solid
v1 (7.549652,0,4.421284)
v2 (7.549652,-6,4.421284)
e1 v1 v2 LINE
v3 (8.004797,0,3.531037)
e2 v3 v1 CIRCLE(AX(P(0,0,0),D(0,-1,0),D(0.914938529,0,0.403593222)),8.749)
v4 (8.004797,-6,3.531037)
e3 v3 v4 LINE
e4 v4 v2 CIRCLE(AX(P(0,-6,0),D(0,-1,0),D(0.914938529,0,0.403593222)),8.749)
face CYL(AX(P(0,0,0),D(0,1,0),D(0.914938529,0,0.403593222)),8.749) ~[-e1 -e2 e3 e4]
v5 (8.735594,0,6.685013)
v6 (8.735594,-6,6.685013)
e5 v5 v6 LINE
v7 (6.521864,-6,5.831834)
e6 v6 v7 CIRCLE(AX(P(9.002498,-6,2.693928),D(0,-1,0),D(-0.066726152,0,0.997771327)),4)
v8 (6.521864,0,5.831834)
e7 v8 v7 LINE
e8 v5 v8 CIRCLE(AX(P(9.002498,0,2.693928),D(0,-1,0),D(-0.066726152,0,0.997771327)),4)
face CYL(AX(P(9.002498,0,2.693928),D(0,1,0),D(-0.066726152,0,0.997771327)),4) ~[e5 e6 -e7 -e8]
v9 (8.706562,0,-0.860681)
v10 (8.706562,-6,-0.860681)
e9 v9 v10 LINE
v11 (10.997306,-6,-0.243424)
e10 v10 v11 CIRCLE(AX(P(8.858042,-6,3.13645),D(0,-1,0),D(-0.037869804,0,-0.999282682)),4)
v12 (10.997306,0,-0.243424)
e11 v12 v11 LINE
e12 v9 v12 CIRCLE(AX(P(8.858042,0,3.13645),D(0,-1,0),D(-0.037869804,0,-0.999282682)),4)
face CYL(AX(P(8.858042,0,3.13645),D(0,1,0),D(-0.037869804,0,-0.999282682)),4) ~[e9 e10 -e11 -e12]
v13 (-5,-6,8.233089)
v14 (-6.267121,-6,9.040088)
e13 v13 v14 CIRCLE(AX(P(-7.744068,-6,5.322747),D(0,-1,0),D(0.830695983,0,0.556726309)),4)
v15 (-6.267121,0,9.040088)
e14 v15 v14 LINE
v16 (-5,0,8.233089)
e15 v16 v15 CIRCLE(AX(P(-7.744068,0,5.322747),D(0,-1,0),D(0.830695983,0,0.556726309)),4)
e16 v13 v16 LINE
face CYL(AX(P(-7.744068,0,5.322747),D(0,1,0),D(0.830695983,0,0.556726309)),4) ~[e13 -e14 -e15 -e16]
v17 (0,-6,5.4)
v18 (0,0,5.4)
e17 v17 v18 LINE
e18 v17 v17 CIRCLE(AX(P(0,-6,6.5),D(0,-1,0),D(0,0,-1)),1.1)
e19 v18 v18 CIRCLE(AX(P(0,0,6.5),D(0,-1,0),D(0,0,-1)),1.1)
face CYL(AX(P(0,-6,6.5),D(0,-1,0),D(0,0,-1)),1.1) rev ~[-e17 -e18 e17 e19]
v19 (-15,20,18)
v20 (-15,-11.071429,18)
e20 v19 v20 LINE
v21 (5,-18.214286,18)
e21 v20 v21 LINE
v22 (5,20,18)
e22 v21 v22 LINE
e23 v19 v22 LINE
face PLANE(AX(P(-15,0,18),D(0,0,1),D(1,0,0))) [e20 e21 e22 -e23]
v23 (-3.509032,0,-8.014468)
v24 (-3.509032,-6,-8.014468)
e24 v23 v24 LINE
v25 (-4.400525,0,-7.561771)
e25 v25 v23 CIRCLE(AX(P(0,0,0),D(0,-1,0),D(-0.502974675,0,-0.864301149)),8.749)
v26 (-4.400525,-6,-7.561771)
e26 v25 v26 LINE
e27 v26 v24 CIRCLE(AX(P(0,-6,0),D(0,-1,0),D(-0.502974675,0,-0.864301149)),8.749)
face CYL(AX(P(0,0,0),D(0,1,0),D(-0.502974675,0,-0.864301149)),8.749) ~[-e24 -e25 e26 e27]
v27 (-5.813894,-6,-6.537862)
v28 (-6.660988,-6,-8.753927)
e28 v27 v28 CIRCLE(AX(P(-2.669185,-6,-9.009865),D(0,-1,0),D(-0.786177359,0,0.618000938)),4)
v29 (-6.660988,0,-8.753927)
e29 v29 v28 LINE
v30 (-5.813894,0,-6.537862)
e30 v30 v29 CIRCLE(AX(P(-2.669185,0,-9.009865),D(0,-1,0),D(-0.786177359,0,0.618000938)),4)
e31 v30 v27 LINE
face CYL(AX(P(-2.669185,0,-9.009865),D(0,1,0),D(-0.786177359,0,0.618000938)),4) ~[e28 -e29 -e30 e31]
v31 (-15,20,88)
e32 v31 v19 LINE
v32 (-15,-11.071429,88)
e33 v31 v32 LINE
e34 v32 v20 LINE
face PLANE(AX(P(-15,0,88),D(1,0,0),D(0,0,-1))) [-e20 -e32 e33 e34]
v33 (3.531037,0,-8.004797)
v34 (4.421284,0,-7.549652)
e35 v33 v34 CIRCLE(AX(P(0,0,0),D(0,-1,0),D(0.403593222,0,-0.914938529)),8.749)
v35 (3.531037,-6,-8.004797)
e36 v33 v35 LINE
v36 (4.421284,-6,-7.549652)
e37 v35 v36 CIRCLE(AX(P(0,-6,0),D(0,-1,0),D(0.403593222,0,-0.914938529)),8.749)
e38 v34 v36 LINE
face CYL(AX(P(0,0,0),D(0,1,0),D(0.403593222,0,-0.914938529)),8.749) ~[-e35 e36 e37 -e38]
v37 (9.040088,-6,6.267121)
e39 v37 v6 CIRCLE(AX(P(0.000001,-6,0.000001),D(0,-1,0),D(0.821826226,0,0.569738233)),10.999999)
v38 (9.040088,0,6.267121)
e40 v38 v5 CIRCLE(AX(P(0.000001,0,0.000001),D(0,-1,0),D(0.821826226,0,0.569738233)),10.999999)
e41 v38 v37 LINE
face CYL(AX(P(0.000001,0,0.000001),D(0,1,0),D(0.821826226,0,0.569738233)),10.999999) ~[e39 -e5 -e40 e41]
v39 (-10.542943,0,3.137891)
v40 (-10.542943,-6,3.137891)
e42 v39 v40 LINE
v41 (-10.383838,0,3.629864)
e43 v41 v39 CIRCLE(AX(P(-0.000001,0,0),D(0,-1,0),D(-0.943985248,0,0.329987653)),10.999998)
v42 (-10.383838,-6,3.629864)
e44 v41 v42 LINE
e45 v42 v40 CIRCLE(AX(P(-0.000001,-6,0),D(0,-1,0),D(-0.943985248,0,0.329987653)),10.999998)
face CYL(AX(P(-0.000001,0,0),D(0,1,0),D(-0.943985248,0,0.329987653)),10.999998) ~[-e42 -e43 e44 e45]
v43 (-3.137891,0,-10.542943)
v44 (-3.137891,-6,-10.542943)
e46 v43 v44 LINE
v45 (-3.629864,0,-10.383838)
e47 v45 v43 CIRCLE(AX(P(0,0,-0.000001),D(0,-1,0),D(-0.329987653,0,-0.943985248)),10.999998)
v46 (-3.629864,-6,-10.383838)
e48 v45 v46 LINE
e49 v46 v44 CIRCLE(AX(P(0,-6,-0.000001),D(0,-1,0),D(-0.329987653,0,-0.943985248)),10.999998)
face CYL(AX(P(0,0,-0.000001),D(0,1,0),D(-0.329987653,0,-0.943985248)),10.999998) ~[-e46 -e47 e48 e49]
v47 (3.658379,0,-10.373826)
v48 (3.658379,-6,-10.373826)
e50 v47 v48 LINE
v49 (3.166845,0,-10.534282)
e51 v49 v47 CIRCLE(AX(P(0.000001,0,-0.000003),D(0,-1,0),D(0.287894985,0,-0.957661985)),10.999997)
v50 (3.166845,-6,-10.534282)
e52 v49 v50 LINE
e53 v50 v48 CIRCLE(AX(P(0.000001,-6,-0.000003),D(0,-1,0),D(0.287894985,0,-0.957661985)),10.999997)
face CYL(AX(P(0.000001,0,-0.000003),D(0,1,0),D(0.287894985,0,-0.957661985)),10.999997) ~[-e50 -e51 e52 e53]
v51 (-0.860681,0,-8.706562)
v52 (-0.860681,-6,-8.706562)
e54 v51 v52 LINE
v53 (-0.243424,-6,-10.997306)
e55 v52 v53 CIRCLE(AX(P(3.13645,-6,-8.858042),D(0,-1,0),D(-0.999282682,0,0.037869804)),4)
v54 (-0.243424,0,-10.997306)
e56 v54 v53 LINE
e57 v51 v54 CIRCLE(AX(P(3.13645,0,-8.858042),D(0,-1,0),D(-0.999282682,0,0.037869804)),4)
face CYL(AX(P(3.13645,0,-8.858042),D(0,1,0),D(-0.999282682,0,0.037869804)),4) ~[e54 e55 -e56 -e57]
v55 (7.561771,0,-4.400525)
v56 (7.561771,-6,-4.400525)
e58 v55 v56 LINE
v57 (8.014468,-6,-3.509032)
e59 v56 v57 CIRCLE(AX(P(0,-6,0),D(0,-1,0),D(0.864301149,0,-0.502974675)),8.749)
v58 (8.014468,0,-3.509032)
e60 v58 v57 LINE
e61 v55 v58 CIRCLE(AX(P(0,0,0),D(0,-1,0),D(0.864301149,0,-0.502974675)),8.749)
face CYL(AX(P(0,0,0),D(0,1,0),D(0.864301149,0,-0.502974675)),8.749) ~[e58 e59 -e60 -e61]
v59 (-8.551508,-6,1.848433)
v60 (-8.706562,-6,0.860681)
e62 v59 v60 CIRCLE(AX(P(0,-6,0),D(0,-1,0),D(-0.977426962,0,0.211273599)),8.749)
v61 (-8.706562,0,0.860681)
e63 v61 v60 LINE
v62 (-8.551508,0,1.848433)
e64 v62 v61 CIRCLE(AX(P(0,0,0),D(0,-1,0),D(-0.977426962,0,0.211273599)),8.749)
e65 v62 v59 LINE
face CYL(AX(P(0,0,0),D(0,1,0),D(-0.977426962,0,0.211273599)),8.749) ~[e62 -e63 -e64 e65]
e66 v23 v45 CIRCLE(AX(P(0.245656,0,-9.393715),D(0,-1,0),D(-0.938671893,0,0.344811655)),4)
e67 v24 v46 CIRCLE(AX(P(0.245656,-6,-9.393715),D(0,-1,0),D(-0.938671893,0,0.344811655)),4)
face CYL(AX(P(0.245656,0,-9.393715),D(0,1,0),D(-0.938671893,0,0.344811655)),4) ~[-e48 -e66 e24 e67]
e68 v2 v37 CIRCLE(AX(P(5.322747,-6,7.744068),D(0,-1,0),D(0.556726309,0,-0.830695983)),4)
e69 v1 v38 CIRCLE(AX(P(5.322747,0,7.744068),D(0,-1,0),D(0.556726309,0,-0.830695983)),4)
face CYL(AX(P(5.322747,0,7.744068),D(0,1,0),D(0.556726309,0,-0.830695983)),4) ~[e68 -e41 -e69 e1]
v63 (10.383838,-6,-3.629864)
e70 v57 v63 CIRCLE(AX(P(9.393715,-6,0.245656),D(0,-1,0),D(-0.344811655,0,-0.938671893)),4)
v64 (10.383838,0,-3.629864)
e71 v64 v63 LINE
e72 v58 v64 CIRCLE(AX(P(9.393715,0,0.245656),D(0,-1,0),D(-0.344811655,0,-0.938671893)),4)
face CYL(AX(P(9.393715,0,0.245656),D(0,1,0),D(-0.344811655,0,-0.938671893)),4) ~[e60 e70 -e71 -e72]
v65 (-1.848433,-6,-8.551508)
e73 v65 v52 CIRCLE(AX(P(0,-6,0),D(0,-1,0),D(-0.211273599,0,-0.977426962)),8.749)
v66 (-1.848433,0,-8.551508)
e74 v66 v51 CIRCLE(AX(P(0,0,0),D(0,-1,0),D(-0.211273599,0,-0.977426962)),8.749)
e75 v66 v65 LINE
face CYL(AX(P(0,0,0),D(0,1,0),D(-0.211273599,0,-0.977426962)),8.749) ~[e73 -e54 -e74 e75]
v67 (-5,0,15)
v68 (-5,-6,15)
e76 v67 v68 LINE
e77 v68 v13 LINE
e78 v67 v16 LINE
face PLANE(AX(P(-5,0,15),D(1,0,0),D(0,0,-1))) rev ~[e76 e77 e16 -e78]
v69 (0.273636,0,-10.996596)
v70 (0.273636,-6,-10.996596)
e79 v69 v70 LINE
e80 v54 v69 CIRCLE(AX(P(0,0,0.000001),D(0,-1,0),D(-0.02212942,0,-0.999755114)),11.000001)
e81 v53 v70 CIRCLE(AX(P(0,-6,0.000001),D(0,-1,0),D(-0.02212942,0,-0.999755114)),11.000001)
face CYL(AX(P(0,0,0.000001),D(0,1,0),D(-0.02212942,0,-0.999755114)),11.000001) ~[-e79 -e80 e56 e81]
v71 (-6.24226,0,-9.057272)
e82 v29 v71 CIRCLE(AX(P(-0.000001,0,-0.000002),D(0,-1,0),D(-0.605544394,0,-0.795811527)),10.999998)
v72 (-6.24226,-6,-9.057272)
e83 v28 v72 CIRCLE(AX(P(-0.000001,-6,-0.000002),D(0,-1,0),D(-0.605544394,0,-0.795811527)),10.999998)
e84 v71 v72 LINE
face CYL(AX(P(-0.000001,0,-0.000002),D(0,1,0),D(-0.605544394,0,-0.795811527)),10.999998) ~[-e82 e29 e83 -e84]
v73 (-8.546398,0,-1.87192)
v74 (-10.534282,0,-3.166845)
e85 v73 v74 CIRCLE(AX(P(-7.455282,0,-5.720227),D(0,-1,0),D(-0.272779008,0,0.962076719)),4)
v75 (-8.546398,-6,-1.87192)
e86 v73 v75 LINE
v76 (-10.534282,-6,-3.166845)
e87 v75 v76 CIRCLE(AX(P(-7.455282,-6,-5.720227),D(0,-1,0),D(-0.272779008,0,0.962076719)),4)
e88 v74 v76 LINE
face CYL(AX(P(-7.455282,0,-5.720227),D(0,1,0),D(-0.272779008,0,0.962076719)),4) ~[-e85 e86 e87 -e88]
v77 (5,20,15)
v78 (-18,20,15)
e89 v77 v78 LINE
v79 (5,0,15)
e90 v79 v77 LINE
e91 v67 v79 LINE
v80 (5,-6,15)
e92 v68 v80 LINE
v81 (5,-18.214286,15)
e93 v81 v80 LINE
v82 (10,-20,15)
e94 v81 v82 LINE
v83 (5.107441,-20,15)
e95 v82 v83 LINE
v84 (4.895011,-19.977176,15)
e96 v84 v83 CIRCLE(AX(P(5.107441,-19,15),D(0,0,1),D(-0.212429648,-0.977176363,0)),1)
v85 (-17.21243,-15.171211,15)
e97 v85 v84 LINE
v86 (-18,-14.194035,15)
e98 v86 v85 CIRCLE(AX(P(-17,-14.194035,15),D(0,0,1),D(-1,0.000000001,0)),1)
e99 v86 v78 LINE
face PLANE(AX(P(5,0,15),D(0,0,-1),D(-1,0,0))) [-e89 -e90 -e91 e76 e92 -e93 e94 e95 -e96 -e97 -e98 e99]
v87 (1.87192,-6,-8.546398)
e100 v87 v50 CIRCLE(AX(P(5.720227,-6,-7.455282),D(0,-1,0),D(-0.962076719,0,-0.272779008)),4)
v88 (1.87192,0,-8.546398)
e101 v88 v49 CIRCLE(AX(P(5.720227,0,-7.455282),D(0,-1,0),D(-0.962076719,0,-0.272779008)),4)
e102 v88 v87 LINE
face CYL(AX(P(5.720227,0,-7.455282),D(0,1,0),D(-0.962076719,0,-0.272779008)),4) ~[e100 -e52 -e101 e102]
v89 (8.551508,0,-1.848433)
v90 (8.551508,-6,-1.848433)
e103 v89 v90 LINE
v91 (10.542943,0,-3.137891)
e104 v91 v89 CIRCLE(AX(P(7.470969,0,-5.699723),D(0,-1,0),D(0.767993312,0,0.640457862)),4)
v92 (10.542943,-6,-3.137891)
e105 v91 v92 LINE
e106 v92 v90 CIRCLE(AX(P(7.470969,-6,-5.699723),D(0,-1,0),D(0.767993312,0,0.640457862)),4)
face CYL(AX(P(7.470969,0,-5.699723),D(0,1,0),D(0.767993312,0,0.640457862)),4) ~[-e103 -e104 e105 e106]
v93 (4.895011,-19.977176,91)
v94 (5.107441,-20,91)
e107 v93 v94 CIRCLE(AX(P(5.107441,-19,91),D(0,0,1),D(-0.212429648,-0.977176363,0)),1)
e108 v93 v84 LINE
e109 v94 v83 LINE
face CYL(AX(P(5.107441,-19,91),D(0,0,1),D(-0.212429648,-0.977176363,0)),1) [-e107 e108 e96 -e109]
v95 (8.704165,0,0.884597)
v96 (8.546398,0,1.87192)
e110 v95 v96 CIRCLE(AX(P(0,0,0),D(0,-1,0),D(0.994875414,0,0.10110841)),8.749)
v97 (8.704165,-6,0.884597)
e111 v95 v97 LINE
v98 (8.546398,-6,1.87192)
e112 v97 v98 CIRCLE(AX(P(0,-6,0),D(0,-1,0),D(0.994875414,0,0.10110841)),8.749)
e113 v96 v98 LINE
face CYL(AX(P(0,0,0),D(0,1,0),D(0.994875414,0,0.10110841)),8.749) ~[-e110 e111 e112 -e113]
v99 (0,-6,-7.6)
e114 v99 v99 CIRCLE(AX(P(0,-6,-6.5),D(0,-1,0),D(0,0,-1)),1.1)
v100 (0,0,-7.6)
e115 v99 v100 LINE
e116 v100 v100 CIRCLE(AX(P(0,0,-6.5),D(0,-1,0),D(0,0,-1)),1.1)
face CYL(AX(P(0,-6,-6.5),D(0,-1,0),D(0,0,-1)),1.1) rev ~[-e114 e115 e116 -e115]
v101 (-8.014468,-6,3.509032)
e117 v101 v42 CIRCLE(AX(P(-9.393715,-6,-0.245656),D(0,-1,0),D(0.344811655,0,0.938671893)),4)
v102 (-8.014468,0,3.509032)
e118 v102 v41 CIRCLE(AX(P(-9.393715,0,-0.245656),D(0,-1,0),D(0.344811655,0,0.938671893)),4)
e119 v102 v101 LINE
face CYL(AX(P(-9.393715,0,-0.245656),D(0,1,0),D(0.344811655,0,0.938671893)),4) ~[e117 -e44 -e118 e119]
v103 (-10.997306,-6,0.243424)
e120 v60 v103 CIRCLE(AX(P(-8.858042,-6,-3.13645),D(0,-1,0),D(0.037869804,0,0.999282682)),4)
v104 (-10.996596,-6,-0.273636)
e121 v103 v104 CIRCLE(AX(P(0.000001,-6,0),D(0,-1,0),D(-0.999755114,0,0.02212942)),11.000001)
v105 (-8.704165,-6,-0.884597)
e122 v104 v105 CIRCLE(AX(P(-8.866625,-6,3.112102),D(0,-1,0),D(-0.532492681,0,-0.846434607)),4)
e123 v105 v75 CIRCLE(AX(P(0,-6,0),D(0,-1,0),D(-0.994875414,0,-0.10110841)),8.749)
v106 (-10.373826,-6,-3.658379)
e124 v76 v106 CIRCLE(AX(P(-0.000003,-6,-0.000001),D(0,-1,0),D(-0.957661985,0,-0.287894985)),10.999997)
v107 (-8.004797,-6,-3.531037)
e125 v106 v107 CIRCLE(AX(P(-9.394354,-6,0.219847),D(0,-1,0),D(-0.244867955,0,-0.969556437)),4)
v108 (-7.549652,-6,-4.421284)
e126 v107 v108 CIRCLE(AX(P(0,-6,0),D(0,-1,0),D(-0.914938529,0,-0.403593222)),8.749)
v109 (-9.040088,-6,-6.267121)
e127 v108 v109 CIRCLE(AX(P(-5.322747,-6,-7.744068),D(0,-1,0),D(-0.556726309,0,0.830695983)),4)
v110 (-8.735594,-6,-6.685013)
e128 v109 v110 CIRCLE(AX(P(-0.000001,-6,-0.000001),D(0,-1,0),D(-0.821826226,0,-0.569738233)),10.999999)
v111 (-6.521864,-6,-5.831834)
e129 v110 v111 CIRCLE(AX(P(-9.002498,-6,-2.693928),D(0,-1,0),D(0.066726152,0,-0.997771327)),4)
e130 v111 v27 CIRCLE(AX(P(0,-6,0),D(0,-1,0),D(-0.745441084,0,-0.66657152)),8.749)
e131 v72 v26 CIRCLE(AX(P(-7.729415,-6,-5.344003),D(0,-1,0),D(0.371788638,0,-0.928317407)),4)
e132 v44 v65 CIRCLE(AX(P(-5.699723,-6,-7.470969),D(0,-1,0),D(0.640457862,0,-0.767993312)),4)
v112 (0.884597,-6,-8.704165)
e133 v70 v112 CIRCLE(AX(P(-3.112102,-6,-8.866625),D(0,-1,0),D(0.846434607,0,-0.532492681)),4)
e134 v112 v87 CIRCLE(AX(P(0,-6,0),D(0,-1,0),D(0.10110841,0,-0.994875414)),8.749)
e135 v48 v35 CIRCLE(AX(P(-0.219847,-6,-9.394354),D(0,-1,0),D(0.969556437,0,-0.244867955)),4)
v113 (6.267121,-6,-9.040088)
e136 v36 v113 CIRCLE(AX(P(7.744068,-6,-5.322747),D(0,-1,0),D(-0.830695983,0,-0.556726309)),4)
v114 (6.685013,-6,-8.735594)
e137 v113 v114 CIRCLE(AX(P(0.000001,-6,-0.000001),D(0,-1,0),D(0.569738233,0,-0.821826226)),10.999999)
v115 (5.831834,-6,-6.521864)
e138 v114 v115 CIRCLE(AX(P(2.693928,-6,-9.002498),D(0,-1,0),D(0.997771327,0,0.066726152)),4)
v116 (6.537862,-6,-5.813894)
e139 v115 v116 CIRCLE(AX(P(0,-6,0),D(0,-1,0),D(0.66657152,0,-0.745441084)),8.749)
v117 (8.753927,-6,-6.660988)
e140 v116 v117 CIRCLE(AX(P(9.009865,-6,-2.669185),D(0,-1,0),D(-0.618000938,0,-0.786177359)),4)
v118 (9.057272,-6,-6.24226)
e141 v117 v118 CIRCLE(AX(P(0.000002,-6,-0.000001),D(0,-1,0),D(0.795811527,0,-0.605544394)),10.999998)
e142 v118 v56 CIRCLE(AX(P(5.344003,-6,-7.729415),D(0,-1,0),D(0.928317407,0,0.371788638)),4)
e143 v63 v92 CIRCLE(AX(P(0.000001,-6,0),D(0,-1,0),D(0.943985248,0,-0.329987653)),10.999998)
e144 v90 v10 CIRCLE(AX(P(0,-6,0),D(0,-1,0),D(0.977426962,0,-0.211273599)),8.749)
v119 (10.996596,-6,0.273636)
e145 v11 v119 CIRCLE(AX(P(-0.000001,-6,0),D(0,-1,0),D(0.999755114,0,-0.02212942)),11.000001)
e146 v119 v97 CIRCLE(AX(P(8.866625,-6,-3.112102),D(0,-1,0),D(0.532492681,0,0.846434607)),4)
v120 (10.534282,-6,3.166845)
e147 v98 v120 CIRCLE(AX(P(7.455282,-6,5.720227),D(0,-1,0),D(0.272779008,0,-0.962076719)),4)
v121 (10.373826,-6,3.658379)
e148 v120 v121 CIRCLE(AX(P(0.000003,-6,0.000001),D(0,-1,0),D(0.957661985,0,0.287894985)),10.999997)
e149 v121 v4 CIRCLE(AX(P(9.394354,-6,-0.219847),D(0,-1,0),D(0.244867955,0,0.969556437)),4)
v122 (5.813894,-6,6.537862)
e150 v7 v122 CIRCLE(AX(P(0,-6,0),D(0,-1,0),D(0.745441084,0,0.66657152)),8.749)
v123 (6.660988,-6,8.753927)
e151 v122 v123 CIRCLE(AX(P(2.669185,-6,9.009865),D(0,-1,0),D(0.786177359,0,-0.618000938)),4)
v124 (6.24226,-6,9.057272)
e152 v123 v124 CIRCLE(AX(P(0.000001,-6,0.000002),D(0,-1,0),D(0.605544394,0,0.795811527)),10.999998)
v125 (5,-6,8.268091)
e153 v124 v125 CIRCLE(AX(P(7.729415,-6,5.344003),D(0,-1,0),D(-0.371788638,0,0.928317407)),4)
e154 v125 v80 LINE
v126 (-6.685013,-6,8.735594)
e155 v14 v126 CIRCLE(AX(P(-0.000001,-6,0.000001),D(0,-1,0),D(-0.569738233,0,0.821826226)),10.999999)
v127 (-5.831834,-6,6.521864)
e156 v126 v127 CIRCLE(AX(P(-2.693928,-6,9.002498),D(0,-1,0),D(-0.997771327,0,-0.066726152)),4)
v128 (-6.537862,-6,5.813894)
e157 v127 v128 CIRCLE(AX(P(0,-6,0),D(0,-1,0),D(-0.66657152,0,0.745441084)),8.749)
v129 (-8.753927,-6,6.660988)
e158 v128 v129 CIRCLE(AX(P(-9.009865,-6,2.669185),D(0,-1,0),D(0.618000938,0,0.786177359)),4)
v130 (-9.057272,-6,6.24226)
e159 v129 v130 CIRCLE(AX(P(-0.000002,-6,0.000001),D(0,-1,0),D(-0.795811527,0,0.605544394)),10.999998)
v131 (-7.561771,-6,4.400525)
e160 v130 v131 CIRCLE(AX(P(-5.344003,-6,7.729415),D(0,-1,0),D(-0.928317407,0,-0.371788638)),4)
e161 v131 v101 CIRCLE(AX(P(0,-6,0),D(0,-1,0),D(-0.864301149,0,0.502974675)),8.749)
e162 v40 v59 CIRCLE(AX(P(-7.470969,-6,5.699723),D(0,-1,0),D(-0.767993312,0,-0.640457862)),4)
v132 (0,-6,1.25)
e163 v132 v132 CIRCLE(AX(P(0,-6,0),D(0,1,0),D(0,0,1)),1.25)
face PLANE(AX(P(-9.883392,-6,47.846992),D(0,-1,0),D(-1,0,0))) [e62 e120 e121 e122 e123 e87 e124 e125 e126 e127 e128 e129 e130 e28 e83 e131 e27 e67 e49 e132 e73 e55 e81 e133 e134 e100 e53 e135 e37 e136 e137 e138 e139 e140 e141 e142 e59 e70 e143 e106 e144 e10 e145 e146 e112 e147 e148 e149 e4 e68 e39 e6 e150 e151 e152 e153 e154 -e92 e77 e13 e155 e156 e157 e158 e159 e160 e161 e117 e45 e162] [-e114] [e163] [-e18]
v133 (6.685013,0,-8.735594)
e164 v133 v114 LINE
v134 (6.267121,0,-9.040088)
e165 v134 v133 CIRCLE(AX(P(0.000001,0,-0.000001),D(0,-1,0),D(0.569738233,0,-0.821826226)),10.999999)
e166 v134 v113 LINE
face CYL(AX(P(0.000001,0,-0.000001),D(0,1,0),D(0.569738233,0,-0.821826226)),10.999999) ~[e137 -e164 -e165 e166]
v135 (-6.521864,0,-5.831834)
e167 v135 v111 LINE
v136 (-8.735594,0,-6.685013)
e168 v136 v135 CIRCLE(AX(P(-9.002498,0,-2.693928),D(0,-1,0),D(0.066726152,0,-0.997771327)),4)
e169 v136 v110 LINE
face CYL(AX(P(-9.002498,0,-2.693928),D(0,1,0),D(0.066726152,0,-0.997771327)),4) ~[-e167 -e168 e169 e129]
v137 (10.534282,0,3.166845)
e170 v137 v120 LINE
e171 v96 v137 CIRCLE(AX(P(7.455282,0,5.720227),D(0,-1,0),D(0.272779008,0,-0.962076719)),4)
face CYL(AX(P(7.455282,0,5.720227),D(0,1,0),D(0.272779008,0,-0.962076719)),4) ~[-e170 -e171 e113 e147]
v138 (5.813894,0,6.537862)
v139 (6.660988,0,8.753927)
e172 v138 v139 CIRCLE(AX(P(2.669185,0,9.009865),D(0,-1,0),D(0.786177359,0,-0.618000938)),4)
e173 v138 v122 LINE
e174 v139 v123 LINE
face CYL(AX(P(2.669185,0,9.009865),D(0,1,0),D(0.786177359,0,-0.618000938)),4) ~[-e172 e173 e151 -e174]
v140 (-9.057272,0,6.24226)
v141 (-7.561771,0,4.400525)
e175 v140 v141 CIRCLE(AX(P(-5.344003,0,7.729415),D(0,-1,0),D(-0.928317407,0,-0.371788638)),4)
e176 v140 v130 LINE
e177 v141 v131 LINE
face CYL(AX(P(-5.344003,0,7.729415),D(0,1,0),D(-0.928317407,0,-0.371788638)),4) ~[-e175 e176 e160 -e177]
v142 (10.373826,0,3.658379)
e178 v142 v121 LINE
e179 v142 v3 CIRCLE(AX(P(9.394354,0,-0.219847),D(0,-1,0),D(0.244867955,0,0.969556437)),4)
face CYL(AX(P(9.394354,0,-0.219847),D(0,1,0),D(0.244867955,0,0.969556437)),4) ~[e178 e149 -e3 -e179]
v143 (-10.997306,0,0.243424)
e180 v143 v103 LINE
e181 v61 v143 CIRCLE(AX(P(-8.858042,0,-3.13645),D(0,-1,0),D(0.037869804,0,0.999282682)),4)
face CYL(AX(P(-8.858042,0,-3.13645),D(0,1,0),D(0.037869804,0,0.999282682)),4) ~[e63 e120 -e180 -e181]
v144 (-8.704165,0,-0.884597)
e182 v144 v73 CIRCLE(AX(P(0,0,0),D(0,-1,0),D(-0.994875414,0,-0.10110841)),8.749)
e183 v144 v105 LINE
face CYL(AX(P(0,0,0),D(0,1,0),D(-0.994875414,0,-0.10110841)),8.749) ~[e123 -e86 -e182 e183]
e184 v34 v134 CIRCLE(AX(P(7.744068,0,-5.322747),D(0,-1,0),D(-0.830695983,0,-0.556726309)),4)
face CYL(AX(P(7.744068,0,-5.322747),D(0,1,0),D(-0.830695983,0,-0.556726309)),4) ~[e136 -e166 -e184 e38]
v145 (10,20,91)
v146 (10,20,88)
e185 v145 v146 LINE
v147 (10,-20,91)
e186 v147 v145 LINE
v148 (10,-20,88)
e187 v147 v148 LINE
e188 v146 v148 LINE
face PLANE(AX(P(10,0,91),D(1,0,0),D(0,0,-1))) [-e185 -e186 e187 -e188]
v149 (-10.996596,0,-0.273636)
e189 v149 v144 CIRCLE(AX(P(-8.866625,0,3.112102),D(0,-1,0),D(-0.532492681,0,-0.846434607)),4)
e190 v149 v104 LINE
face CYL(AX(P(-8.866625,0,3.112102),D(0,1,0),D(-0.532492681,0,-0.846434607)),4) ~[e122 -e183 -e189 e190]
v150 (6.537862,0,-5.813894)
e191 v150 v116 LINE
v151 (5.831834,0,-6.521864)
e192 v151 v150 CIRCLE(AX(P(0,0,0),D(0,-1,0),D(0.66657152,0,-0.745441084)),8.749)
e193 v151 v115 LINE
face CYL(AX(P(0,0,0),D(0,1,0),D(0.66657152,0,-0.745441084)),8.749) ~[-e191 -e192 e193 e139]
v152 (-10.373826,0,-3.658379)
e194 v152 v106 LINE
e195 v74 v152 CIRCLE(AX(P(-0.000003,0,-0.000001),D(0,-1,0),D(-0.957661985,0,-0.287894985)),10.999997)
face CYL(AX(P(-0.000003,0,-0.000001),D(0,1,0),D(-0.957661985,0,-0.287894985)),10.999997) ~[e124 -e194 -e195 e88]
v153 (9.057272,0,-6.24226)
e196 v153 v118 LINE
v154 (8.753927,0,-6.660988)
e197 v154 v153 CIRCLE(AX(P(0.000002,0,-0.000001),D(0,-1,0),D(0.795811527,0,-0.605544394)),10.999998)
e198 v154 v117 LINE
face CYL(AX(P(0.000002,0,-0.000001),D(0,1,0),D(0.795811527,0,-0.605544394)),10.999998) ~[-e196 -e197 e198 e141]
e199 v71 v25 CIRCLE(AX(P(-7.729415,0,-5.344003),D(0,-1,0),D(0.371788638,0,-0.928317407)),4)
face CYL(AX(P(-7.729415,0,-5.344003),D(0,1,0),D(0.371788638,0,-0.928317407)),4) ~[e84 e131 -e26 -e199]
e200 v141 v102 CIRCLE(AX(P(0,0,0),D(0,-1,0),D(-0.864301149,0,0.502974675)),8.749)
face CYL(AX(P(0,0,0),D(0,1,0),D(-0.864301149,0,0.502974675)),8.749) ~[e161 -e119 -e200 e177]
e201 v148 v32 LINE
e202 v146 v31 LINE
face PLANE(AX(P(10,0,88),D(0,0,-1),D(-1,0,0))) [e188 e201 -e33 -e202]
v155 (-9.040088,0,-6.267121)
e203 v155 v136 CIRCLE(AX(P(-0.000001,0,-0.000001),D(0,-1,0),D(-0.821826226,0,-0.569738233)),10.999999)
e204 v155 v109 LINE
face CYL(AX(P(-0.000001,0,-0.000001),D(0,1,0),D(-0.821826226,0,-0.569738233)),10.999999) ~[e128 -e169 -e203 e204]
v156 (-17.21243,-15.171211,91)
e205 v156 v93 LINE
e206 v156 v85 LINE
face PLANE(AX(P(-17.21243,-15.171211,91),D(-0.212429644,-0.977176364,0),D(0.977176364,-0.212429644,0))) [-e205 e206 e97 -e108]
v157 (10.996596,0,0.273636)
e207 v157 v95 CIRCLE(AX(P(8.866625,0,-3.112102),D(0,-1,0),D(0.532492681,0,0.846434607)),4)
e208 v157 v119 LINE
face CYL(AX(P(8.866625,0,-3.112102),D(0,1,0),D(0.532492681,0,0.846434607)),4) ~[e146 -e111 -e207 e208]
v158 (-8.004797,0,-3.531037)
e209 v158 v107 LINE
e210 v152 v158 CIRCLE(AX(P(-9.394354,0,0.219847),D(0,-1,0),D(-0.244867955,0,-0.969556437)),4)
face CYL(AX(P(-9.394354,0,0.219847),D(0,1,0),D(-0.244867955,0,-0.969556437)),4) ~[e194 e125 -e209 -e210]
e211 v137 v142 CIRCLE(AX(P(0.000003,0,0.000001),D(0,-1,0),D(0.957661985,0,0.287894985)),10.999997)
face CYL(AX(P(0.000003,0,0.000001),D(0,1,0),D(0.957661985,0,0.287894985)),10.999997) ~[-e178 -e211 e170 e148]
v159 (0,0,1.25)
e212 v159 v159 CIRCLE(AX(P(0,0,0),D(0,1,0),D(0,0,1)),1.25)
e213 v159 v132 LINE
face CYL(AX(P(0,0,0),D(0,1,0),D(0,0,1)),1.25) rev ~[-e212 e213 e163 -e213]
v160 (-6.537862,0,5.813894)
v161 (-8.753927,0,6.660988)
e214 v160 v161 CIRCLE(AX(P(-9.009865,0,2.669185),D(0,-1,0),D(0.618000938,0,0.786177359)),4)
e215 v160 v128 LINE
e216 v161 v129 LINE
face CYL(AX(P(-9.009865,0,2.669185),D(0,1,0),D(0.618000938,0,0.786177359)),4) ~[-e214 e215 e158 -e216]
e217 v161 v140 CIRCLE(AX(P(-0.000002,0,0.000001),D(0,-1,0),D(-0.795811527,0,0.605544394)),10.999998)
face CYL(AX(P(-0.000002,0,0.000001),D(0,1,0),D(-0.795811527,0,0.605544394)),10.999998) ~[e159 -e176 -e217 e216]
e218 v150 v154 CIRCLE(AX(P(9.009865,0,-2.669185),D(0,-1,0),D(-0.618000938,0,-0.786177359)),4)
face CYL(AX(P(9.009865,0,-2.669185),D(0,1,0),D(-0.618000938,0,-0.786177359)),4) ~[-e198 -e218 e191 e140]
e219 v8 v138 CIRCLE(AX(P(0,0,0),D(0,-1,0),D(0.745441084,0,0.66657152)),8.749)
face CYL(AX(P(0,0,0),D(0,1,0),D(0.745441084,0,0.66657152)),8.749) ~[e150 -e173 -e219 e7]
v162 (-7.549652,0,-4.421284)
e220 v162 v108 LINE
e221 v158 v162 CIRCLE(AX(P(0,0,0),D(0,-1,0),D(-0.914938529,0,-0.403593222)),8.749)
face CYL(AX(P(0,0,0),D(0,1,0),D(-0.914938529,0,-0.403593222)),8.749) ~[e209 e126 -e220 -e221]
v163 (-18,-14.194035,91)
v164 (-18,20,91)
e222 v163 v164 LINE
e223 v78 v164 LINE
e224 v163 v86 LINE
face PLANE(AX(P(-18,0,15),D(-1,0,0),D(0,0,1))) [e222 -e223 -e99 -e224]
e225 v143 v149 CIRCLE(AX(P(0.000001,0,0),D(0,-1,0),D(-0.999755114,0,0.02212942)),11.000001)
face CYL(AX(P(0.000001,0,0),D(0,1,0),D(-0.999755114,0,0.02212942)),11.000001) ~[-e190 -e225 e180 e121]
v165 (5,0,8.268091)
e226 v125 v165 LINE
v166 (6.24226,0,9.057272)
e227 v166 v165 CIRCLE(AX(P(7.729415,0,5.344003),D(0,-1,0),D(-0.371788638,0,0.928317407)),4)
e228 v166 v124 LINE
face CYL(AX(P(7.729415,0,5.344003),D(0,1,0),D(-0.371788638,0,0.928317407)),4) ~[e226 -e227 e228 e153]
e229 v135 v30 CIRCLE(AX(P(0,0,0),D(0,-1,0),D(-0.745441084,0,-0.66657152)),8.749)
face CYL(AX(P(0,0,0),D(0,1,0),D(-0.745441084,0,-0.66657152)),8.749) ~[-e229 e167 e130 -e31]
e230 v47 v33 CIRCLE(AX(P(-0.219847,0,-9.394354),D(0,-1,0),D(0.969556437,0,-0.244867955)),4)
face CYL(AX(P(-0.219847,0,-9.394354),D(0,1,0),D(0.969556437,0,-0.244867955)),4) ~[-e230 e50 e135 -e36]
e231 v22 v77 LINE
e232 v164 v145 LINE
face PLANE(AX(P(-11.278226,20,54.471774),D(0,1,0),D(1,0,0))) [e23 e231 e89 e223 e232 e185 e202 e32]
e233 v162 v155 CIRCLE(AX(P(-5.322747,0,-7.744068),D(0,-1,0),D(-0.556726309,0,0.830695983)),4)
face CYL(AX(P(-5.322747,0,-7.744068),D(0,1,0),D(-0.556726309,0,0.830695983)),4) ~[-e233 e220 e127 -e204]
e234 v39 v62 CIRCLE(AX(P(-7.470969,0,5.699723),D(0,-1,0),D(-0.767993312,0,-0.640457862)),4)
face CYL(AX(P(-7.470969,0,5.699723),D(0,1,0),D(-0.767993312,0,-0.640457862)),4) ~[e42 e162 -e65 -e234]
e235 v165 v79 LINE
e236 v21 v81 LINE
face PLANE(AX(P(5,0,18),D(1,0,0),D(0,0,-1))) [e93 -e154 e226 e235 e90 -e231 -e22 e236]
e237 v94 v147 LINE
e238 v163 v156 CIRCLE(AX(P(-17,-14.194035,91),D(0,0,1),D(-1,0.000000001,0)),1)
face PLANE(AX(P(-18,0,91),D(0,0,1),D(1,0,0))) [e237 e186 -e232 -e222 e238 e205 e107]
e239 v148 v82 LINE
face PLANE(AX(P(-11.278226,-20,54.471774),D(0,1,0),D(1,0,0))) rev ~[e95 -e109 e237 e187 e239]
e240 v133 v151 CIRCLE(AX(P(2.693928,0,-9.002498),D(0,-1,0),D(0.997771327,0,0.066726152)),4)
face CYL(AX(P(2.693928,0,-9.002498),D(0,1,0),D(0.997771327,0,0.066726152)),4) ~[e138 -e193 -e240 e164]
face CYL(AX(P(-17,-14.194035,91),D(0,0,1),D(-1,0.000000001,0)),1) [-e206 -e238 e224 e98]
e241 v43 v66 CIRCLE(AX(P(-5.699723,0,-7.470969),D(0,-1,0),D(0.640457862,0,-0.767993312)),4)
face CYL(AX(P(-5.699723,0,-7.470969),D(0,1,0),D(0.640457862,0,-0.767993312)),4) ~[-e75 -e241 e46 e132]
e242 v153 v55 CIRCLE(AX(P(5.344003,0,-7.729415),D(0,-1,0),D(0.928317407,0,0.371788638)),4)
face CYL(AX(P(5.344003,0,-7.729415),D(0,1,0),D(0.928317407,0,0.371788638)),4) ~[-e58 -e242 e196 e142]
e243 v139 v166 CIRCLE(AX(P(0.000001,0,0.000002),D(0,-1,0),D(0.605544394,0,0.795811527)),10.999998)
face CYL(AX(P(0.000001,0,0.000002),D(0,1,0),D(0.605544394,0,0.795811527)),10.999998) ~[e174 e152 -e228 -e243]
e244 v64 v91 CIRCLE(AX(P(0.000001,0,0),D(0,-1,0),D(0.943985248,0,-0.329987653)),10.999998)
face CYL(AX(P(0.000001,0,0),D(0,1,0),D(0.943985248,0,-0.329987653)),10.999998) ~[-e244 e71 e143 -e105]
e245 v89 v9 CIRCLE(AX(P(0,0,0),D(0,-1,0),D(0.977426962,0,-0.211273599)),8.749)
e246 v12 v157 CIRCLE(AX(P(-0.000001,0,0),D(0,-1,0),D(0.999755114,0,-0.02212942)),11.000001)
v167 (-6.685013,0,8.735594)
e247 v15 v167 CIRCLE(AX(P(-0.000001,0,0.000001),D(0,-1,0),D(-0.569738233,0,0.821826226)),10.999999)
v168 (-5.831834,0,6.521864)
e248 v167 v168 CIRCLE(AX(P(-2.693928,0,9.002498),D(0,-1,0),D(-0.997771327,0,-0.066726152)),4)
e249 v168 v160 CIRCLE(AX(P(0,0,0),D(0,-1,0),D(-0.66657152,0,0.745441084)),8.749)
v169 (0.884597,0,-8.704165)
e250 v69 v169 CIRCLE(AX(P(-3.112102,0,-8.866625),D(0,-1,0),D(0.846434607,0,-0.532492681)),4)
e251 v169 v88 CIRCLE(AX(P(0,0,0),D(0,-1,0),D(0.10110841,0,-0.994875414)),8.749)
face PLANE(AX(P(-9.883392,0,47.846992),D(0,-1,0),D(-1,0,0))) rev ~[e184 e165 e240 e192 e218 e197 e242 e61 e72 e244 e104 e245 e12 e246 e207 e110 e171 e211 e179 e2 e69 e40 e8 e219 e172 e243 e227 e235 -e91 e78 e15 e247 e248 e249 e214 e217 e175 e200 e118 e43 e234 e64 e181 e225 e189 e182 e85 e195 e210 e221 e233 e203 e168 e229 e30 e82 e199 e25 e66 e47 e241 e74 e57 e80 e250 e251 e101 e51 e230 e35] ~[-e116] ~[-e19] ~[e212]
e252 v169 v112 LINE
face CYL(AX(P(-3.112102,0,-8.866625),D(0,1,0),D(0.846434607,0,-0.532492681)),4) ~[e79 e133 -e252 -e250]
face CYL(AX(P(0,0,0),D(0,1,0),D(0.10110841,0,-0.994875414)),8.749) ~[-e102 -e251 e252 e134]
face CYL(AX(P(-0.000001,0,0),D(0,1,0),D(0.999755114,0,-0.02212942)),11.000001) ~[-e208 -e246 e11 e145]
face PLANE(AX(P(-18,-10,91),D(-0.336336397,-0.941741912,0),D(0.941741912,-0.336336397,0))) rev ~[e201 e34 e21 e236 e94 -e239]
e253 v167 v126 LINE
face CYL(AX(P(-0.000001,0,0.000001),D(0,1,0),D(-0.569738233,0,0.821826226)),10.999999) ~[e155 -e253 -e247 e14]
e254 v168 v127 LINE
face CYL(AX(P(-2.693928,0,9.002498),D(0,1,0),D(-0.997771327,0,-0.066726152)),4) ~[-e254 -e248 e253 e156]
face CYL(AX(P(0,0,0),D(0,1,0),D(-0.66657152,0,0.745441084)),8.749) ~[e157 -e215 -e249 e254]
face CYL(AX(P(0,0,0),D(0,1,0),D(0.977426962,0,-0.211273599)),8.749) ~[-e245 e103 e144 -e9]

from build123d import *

# Parameters (mm, degrees)
SKETCH_1_R          = 1.25
EXTRUDE_1_DEPTH     = 6
EXTRUDE_2_DEPTH     = 20
EXTRUDE_START       = -6
SKETCH_4_R          = 1.25
EXTRUDE_4_DEPTH     = 6
SKETCH_5_R          = 1.1
CUT_EXTRUDE_1_DEPTH = 97.337946833
EXTRUDE_5_DEPTH     = 76
CUT_EXTRUDE_2_DEPTH = 76


with BuildPart() as part:
    # 草图1 → 凸台-拉伸1 (new body)
    with BuildSketch(Plane(origin=(0, 0, 0), x_dir=(1, 0, 0), z_dir=(0, 1, 0))):
        with BuildLine():
            Line((5, 0), (5, -18))
            Line((5, -18), (-15, -18))
            Line((-15, -18), (-15, -88))
            Line((-15, -88), (10, -88))
            Line((10, -88), (10, -91))
            Line((10, -91), (-18, -91))
            Line((-18, -91), (-18, -15))
            Line((-18, -15), (-5, -15))
            Line((-5, -15), (-5, 0))
            ThreePointArc((-5, 0), (0, 5), (5, 0))
        make_face()
        with Locations(Location((0, 0, 0), (0, 0, 270))):
            Circle(SKETCH_1_R, mode=Mode.SUBTRACT)
    extrude(amount=-EXTRUDE_1_DEPTH)

    # 草图2 → 凸台-拉伸2 (add, symmetric)
    with BuildSketch(Plane(origin=(0, 0, 0), x_dir=(1, 0, 0), z_dir=(0, 1, 0))):
        Polygon((-15, -18), (5, -18), (5, -15), (-18, -15), (-18, -91), (10, -91), (10, -88), (-15, -88), align=None)
    extrude(amount=EXTRUDE_2_DEPTH, both=True)

    # 草图4 → 凸台-拉伸4 (add)
    with BuildSketch(Plane.XZ.offset(6).offset(EXTRUDE_START)):
        with BuildLine():
            ThreePointArc((0.860680542, 8.706562468), (0.72579344, 9.898750182), (0.24342364, 10.997306258))
            ThreePointArc((0.24342364, 10.997306258), (-0.01511058, 10.999989621), (-0.273636452, 10.996595977))
            ThreePointArc((-0.273636452, 10.996595977), (-0.752986286, 9.896718796), (-0.884597491, 8.704164996))
            ThreePointArc((-0.884597491, 8.704164996), (-1.380514283, 8.639397046), (-1.871919927, 8.546397884))
            ThreePointArc((-1.871919927, 8.546397884), (-2.368611449, 9.638553371), (-3.166844887, 10.53428182))
            ThreePointArc((-3.166844887, 10.53428182), (-3.413554747, 10.456942383), (-3.658378768, 10.373825947))
            ThreePointArc((-3.658378768, 10.373825947), (-3.77438681, 9.179653342), (-3.531037114, 8.00479718))
            ThreePointArc((-3.531037114, 8.00479718), (-3.982667613, 7.789952483), (-4.421283831, 7.549652329))
            ThreePointArc((-4.421283831, 7.549652329), (-5.231160146, 8.434867801), (-6.267120572, 9.040088481))
            ThreePointArc((-6.267120572, 9.040088481), (-6.477856391, 8.890296766), (-6.685013481, 8.735593555))
            ThreePointArc((-6.685013481, 8.735593555), (-6.426324056, 7.564019461), (-5.831834222, 6.521864044))
            ThreePointArc((-5.831834222, 6.521864044), (-6.194969688, 6.177973095), (-6.537861669, 5.813894202))
            ThreePointArc((-6.537861669, 5.813894202), (-7.58164644, 6.405518601), (-8.753926829, 6.660988295))
            ThreePointArc((-8.753926829, 6.660988295), (-8.908060318, 6.453406959), (-9.057272497, 6.242260401))
            ThreePointArc((-9.057272497, 6.242260401), (-8.449207929, 5.207966653), (-7.561770763, 4.400525414))
            ThreePointArc((-7.561770763, 4.400525414), (-7.800864967, 3.961250657), (-8.014468055, 3.509031603))
            ThreePointArc((-8.014468055, 3.509031603), (-9.189988356, 3.74915261), (-10.383837737, 3.629864165))
            ThreePointArc((-10.383837737, 3.629864165), (-10.466281235, 3.384812715), (-10.542942575, 3.137891306))
            ThreePointArc((-10.542942575, 3.137891306), (-9.64502446, 2.342121783), (-8.551508496, 1.848432697))
            ThreePointArc((-8.551508496, 1.848432697), (-8.643157232, 1.356773404), (-8.706562468, 0.860680542))
            ThreePointArc((-8.706562468, 0.860680542), (-9.898750182, 0.72579344), (-10.997306258, 0.24342364))
            ThreePointArc((-10.997306258, 0.24342364), (-10.999989621, -0.01511058), (-10.996595977, -0.273636452))
            ThreePointArc((-10.996595977, -0.273636452), (-9.896718796, -0.752986286), (-8.704164996, -0.884597491))
            ThreePointArc((-8.704164996, -0.884597491), (-8.639397046, -1.380514283), (-8.546397884, -1.871919927))
            ThreePointArc((-8.546397884, -1.871919927), (-9.638553371, -2.368611449), (-10.53428182, -3.166844887))
            ThreePointArc((-10.53428182, -3.166844887), (-10.456942383, -3.413554747), (-10.373825947, -3.658378768))
            ThreePointArc((-10.373825947, -3.658378768), (-9.179653342, -3.77438681), (-8.00479718, -3.531037114))
            ThreePointArc((-8.00479718, -3.531037114), (-7.789952483, -3.982667613), (-7.549652329, -4.421283831))
            ThreePointArc((-7.549652329, -4.421283831), (-8.434867801, -5.231160146), (-9.040088481, -6.267120572))
            ThreePointArc((-9.040088481, -6.267120572), (-8.890296766, -6.477856391), (-8.735593555, -6.685013481))
            ThreePointArc((-8.735593555, -6.685013481), (-7.564019461, -6.426324056), (-6.521864044, -5.831834222))
            ThreePointArc((-6.521864044, -5.831834222), (-6.177973095, -6.194969688), (-5.813894202, -6.537861669))
            ThreePointArc((-5.813894202, -6.537861669), (-6.405518601, -7.58164644), (-6.660988295, -8.753926829))
            ThreePointArc((-6.660988295, -8.753926829), (-6.453406959, -8.908060318), (-6.242260401, -9.057272497))
            ThreePointArc((-6.242260401, -9.057272497), (-5.207966653, -8.449207929), (-4.400525414, -7.561770763))
            ThreePointArc((-4.400525414, -7.561770763), (-3.961250657, -7.800864967), (-3.509031603, -8.014468055))
            ThreePointArc((-3.509031603, -8.014468055), (-3.74915261, -9.189988356), (-3.629864165, -10.383837737))
            ThreePointArc((-3.629864165, -10.383837737), (-3.384812715, -10.466281235), (-3.137891306, -10.542942575))
            ThreePointArc((-3.137891306, -10.542942575), (-2.342121783, -9.64502446), (-1.848432697, -8.551508496))
            ThreePointArc((-1.848432697, -8.551508496), (-1.356773404, -8.643157232), (-0.860680542, -8.706562468))
            ThreePointArc((-0.860680542, -8.706562468), (-0.72579344, -9.898750182), (-0.24342364, -10.997306258))
            ThreePointArc((-0.24342364, -10.997306258), (0.01511058, -10.999989621), (0.273636452, -10.996595977))
            ThreePointArc((0.273636452, -10.996595977), (0.752986286, -9.896718796), (0.884597491, -8.704164996))
            ThreePointArc((0.884597491, -8.704164996), (1.380514283, -8.639397046), (1.871919927, -8.546397884))
            ThreePointArc((1.871919927, -8.546397884), (2.368611449, -9.638553371), (3.166844887, -10.53428182))
            ThreePointArc((3.166844887, -10.53428182), (3.413554747, -10.456942383), (3.658378768, -10.373825947))
            ThreePointArc((3.658378768, -10.373825947), (3.77438681, -9.179653342), (3.531037114, -8.00479718))
            ThreePointArc((3.531037114, -8.00479718), (3.982667613, -7.789952483), (4.421283831, -7.549652329))
            ThreePointArc((4.421283831, -7.549652329), (5.231160146, -8.434867801), (6.267120572, -9.040088481))
            ThreePointArc((6.267120572, -9.040088481), (6.477856391, -8.890296766), (6.685013481, -8.735593555))
            ThreePointArc((6.685013481, -8.735593555), (6.426324056, -7.564019461), (5.831834222, -6.521864044))
            ThreePointArc((5.831834222, -6.521864044), (6.194969688, -6.177973095), (6.537861669, -5.813894202))
            ThreePointArc((6.537861669, -5.813894202), (7.58164644, -6.405518601), (8.753926829, -6.660988295))
            ThreePointArc((8.753926829, -6.660988295), (8.908060318, -6.453406959), (9.057272497, -6.242260401))
            ThreePointArc((9.057272497, -6.242260401), (8.449207929, -5.207966653), (7.561770763, -4.400525414))
            ThreePointArc((7.561770763, -4.400525414), (7.800864967, -3.961250657), (8.014468055, -3.509031603))
            ThreePointArc((8.014468055, -3.509031603), (9.189988356, -3.74915261), (10.383837737, -3.629864165))
            ThreePointArc((10.383837737, -3.629864165), (10.466281235, -3.384812715), (10.542942575, -3.137891306))
            ThreePointArc((10.542942575, -3.137891306), (9.64502446, -2.342121783), (8.551508496, -1.848432697))
            ThreePointArc((8.551508496, -1.848432697), (8.643157232, -1.356773404), (8.706562468, -0.860680542))
            ThreePointArc((8.706562468, -0.860680542), (9.898750182, -0.72579344), (10.997306258, -0.24342364))
            ThreePointArc((10.997306258, -0.24342364), (10.999989621, 0.01511058), (10.996595977, 0.273636452))
            ThreePointArc((10.996595977, 0.273636452), (9.896718796, 0.752986286), (8.704164996, 0.884597491))
            ThreePointArc((8.704164996, 0.884597491), (8.639397046, 1.380514283), (8.546397884, 1.871919927))
            ThreePointArc((8.546397884, 1.871919927), (9.638553371, 2.368611449), (10.53428182, 3.166844887))
            ThreePointArc((10.53428182, 3.166844887), (10.456942383, 3.413554747), (10.373825947, 3.658378768))
            ThreePointArc((10.373825947, 3.658378768), (9.179653342, 3.77438681), (8.00479718, 3.531037114))
            ThreePointArc((8.00479718, 3.531037114), (7.789952483, 3.982667613), (7.549652329, 4.421283831))
            ThreePointArc((7.549652329, 4.421283831), (8.434867801, 5.231160146), (9.040088481, 6.267120572))
            ThreePointArc((9.040088481, 6.267120572), (8.890296766, 6.477856391), (8.735593555, 6.685013481))
            ThreePointArc((8.735593555, 6.685013481), (7.564019461, 6.426324056), (6.521864044, 5.831834222))
            ThreePointArc((6.521864044, 5.831834222), (6.177973095, 6.194969688), (5.813894202, 6.537861669))
            ThreePointArc((5.813894202, 6.537861669), (6.405518601, 7.58164644), (6.660988295, 8.753926829))
            ThreePointArc((6.660988295, 8.753926829), (6.453406959, 8.908060318), (6.242260401, 9.057272497))
            ThreePointArc((6.242260401, 9.057272497), (5.207966653, 8.449207929), (4.400525414, 7.561770763))
            ThreePointArc((4.400525414, 7.561770763), (3.961250657, 7.800864967), (3.509031603, 8.014468055))
            ThreePointArc((3.509031603, 8.014468055), (3.74915261, 9.189988356), (3.629864165, 10.383837737))
            ThreePointArc((3.629864165, 10.383837737), (3.384812715, 10.466281235), (3.137891306, 10.542942575))
            ThreePointArc((3.137891306, 10.542942575), (2.342121783, 9.64502446), (1.848432697, 8.551508496))
            ThreePointArc((1.848432697, 8.551508496), (1.356773404, 8.643157232), (0.860680542, 8.706562468))
        make_face()
        with Locations(Location((0, 0, 0), (0, 0, 90))):
            Circle(SKETCH_4_R, mode=Mode.SUBTRACT)
    extrude(amount=EXTRUDE_4_DEPTH)

    # 草图5 → 切除-拉伸1 (cut, through all)
    with BuildSketch(Plane.XZ.offset(6)):
        with Locations(Location((0, 6.5, 0), (0, 0, 270))):
            Circle(SKETCH_5_R)
        with Locations(Location((0, -6.5, 0), (0, 0, 270))):
            Circle(SKETCH_5_R)
    extrude(amount=-CUT_EXTRUDE_1_DEPTH, mode=Mode.SUBTRACT)

    # 草图6 → 凸台-拉伸5 (add)
    with BuildSketch(Plane.XY.offset(91)):
        Polygon((-18, -10), (10, -20), (-18, -20), align=None)
    extrude(amount=-EXTRUDE_5_DEPTH)

    # 草图8 → 切除-拉伸2 (cut)
    with BuildSketch(Plane.XY.offset(91)):
        with BuildLine():
            Line((-17.212429644, -15.171210947), (4.895011274, -19.977176364))
            ThreePointArc((4.895011274, -19.977176364), (5.000614807, -19.994277719), (5.107440918, -20))
            Line((5.107440918, -20), (5.107440918, -20.306754101))
            Line((5.107440918, -20.306754101), (-18, -20.306754101))
            Line((-18, -20.306754101), (-18, -19.977176364))
            Line((-18, -19.977176364), (-18, -14.194034583))
            ThreePointArc((-18, -14.194034583), (-17.778597985, -14.821557633), (-17.212429644, -15.171210947))
        make_face()
    extrude(amount=-CUT_EXTRUDE_2_DEPTH, mode=Mode.SUBTRACT)


solid = part.part
